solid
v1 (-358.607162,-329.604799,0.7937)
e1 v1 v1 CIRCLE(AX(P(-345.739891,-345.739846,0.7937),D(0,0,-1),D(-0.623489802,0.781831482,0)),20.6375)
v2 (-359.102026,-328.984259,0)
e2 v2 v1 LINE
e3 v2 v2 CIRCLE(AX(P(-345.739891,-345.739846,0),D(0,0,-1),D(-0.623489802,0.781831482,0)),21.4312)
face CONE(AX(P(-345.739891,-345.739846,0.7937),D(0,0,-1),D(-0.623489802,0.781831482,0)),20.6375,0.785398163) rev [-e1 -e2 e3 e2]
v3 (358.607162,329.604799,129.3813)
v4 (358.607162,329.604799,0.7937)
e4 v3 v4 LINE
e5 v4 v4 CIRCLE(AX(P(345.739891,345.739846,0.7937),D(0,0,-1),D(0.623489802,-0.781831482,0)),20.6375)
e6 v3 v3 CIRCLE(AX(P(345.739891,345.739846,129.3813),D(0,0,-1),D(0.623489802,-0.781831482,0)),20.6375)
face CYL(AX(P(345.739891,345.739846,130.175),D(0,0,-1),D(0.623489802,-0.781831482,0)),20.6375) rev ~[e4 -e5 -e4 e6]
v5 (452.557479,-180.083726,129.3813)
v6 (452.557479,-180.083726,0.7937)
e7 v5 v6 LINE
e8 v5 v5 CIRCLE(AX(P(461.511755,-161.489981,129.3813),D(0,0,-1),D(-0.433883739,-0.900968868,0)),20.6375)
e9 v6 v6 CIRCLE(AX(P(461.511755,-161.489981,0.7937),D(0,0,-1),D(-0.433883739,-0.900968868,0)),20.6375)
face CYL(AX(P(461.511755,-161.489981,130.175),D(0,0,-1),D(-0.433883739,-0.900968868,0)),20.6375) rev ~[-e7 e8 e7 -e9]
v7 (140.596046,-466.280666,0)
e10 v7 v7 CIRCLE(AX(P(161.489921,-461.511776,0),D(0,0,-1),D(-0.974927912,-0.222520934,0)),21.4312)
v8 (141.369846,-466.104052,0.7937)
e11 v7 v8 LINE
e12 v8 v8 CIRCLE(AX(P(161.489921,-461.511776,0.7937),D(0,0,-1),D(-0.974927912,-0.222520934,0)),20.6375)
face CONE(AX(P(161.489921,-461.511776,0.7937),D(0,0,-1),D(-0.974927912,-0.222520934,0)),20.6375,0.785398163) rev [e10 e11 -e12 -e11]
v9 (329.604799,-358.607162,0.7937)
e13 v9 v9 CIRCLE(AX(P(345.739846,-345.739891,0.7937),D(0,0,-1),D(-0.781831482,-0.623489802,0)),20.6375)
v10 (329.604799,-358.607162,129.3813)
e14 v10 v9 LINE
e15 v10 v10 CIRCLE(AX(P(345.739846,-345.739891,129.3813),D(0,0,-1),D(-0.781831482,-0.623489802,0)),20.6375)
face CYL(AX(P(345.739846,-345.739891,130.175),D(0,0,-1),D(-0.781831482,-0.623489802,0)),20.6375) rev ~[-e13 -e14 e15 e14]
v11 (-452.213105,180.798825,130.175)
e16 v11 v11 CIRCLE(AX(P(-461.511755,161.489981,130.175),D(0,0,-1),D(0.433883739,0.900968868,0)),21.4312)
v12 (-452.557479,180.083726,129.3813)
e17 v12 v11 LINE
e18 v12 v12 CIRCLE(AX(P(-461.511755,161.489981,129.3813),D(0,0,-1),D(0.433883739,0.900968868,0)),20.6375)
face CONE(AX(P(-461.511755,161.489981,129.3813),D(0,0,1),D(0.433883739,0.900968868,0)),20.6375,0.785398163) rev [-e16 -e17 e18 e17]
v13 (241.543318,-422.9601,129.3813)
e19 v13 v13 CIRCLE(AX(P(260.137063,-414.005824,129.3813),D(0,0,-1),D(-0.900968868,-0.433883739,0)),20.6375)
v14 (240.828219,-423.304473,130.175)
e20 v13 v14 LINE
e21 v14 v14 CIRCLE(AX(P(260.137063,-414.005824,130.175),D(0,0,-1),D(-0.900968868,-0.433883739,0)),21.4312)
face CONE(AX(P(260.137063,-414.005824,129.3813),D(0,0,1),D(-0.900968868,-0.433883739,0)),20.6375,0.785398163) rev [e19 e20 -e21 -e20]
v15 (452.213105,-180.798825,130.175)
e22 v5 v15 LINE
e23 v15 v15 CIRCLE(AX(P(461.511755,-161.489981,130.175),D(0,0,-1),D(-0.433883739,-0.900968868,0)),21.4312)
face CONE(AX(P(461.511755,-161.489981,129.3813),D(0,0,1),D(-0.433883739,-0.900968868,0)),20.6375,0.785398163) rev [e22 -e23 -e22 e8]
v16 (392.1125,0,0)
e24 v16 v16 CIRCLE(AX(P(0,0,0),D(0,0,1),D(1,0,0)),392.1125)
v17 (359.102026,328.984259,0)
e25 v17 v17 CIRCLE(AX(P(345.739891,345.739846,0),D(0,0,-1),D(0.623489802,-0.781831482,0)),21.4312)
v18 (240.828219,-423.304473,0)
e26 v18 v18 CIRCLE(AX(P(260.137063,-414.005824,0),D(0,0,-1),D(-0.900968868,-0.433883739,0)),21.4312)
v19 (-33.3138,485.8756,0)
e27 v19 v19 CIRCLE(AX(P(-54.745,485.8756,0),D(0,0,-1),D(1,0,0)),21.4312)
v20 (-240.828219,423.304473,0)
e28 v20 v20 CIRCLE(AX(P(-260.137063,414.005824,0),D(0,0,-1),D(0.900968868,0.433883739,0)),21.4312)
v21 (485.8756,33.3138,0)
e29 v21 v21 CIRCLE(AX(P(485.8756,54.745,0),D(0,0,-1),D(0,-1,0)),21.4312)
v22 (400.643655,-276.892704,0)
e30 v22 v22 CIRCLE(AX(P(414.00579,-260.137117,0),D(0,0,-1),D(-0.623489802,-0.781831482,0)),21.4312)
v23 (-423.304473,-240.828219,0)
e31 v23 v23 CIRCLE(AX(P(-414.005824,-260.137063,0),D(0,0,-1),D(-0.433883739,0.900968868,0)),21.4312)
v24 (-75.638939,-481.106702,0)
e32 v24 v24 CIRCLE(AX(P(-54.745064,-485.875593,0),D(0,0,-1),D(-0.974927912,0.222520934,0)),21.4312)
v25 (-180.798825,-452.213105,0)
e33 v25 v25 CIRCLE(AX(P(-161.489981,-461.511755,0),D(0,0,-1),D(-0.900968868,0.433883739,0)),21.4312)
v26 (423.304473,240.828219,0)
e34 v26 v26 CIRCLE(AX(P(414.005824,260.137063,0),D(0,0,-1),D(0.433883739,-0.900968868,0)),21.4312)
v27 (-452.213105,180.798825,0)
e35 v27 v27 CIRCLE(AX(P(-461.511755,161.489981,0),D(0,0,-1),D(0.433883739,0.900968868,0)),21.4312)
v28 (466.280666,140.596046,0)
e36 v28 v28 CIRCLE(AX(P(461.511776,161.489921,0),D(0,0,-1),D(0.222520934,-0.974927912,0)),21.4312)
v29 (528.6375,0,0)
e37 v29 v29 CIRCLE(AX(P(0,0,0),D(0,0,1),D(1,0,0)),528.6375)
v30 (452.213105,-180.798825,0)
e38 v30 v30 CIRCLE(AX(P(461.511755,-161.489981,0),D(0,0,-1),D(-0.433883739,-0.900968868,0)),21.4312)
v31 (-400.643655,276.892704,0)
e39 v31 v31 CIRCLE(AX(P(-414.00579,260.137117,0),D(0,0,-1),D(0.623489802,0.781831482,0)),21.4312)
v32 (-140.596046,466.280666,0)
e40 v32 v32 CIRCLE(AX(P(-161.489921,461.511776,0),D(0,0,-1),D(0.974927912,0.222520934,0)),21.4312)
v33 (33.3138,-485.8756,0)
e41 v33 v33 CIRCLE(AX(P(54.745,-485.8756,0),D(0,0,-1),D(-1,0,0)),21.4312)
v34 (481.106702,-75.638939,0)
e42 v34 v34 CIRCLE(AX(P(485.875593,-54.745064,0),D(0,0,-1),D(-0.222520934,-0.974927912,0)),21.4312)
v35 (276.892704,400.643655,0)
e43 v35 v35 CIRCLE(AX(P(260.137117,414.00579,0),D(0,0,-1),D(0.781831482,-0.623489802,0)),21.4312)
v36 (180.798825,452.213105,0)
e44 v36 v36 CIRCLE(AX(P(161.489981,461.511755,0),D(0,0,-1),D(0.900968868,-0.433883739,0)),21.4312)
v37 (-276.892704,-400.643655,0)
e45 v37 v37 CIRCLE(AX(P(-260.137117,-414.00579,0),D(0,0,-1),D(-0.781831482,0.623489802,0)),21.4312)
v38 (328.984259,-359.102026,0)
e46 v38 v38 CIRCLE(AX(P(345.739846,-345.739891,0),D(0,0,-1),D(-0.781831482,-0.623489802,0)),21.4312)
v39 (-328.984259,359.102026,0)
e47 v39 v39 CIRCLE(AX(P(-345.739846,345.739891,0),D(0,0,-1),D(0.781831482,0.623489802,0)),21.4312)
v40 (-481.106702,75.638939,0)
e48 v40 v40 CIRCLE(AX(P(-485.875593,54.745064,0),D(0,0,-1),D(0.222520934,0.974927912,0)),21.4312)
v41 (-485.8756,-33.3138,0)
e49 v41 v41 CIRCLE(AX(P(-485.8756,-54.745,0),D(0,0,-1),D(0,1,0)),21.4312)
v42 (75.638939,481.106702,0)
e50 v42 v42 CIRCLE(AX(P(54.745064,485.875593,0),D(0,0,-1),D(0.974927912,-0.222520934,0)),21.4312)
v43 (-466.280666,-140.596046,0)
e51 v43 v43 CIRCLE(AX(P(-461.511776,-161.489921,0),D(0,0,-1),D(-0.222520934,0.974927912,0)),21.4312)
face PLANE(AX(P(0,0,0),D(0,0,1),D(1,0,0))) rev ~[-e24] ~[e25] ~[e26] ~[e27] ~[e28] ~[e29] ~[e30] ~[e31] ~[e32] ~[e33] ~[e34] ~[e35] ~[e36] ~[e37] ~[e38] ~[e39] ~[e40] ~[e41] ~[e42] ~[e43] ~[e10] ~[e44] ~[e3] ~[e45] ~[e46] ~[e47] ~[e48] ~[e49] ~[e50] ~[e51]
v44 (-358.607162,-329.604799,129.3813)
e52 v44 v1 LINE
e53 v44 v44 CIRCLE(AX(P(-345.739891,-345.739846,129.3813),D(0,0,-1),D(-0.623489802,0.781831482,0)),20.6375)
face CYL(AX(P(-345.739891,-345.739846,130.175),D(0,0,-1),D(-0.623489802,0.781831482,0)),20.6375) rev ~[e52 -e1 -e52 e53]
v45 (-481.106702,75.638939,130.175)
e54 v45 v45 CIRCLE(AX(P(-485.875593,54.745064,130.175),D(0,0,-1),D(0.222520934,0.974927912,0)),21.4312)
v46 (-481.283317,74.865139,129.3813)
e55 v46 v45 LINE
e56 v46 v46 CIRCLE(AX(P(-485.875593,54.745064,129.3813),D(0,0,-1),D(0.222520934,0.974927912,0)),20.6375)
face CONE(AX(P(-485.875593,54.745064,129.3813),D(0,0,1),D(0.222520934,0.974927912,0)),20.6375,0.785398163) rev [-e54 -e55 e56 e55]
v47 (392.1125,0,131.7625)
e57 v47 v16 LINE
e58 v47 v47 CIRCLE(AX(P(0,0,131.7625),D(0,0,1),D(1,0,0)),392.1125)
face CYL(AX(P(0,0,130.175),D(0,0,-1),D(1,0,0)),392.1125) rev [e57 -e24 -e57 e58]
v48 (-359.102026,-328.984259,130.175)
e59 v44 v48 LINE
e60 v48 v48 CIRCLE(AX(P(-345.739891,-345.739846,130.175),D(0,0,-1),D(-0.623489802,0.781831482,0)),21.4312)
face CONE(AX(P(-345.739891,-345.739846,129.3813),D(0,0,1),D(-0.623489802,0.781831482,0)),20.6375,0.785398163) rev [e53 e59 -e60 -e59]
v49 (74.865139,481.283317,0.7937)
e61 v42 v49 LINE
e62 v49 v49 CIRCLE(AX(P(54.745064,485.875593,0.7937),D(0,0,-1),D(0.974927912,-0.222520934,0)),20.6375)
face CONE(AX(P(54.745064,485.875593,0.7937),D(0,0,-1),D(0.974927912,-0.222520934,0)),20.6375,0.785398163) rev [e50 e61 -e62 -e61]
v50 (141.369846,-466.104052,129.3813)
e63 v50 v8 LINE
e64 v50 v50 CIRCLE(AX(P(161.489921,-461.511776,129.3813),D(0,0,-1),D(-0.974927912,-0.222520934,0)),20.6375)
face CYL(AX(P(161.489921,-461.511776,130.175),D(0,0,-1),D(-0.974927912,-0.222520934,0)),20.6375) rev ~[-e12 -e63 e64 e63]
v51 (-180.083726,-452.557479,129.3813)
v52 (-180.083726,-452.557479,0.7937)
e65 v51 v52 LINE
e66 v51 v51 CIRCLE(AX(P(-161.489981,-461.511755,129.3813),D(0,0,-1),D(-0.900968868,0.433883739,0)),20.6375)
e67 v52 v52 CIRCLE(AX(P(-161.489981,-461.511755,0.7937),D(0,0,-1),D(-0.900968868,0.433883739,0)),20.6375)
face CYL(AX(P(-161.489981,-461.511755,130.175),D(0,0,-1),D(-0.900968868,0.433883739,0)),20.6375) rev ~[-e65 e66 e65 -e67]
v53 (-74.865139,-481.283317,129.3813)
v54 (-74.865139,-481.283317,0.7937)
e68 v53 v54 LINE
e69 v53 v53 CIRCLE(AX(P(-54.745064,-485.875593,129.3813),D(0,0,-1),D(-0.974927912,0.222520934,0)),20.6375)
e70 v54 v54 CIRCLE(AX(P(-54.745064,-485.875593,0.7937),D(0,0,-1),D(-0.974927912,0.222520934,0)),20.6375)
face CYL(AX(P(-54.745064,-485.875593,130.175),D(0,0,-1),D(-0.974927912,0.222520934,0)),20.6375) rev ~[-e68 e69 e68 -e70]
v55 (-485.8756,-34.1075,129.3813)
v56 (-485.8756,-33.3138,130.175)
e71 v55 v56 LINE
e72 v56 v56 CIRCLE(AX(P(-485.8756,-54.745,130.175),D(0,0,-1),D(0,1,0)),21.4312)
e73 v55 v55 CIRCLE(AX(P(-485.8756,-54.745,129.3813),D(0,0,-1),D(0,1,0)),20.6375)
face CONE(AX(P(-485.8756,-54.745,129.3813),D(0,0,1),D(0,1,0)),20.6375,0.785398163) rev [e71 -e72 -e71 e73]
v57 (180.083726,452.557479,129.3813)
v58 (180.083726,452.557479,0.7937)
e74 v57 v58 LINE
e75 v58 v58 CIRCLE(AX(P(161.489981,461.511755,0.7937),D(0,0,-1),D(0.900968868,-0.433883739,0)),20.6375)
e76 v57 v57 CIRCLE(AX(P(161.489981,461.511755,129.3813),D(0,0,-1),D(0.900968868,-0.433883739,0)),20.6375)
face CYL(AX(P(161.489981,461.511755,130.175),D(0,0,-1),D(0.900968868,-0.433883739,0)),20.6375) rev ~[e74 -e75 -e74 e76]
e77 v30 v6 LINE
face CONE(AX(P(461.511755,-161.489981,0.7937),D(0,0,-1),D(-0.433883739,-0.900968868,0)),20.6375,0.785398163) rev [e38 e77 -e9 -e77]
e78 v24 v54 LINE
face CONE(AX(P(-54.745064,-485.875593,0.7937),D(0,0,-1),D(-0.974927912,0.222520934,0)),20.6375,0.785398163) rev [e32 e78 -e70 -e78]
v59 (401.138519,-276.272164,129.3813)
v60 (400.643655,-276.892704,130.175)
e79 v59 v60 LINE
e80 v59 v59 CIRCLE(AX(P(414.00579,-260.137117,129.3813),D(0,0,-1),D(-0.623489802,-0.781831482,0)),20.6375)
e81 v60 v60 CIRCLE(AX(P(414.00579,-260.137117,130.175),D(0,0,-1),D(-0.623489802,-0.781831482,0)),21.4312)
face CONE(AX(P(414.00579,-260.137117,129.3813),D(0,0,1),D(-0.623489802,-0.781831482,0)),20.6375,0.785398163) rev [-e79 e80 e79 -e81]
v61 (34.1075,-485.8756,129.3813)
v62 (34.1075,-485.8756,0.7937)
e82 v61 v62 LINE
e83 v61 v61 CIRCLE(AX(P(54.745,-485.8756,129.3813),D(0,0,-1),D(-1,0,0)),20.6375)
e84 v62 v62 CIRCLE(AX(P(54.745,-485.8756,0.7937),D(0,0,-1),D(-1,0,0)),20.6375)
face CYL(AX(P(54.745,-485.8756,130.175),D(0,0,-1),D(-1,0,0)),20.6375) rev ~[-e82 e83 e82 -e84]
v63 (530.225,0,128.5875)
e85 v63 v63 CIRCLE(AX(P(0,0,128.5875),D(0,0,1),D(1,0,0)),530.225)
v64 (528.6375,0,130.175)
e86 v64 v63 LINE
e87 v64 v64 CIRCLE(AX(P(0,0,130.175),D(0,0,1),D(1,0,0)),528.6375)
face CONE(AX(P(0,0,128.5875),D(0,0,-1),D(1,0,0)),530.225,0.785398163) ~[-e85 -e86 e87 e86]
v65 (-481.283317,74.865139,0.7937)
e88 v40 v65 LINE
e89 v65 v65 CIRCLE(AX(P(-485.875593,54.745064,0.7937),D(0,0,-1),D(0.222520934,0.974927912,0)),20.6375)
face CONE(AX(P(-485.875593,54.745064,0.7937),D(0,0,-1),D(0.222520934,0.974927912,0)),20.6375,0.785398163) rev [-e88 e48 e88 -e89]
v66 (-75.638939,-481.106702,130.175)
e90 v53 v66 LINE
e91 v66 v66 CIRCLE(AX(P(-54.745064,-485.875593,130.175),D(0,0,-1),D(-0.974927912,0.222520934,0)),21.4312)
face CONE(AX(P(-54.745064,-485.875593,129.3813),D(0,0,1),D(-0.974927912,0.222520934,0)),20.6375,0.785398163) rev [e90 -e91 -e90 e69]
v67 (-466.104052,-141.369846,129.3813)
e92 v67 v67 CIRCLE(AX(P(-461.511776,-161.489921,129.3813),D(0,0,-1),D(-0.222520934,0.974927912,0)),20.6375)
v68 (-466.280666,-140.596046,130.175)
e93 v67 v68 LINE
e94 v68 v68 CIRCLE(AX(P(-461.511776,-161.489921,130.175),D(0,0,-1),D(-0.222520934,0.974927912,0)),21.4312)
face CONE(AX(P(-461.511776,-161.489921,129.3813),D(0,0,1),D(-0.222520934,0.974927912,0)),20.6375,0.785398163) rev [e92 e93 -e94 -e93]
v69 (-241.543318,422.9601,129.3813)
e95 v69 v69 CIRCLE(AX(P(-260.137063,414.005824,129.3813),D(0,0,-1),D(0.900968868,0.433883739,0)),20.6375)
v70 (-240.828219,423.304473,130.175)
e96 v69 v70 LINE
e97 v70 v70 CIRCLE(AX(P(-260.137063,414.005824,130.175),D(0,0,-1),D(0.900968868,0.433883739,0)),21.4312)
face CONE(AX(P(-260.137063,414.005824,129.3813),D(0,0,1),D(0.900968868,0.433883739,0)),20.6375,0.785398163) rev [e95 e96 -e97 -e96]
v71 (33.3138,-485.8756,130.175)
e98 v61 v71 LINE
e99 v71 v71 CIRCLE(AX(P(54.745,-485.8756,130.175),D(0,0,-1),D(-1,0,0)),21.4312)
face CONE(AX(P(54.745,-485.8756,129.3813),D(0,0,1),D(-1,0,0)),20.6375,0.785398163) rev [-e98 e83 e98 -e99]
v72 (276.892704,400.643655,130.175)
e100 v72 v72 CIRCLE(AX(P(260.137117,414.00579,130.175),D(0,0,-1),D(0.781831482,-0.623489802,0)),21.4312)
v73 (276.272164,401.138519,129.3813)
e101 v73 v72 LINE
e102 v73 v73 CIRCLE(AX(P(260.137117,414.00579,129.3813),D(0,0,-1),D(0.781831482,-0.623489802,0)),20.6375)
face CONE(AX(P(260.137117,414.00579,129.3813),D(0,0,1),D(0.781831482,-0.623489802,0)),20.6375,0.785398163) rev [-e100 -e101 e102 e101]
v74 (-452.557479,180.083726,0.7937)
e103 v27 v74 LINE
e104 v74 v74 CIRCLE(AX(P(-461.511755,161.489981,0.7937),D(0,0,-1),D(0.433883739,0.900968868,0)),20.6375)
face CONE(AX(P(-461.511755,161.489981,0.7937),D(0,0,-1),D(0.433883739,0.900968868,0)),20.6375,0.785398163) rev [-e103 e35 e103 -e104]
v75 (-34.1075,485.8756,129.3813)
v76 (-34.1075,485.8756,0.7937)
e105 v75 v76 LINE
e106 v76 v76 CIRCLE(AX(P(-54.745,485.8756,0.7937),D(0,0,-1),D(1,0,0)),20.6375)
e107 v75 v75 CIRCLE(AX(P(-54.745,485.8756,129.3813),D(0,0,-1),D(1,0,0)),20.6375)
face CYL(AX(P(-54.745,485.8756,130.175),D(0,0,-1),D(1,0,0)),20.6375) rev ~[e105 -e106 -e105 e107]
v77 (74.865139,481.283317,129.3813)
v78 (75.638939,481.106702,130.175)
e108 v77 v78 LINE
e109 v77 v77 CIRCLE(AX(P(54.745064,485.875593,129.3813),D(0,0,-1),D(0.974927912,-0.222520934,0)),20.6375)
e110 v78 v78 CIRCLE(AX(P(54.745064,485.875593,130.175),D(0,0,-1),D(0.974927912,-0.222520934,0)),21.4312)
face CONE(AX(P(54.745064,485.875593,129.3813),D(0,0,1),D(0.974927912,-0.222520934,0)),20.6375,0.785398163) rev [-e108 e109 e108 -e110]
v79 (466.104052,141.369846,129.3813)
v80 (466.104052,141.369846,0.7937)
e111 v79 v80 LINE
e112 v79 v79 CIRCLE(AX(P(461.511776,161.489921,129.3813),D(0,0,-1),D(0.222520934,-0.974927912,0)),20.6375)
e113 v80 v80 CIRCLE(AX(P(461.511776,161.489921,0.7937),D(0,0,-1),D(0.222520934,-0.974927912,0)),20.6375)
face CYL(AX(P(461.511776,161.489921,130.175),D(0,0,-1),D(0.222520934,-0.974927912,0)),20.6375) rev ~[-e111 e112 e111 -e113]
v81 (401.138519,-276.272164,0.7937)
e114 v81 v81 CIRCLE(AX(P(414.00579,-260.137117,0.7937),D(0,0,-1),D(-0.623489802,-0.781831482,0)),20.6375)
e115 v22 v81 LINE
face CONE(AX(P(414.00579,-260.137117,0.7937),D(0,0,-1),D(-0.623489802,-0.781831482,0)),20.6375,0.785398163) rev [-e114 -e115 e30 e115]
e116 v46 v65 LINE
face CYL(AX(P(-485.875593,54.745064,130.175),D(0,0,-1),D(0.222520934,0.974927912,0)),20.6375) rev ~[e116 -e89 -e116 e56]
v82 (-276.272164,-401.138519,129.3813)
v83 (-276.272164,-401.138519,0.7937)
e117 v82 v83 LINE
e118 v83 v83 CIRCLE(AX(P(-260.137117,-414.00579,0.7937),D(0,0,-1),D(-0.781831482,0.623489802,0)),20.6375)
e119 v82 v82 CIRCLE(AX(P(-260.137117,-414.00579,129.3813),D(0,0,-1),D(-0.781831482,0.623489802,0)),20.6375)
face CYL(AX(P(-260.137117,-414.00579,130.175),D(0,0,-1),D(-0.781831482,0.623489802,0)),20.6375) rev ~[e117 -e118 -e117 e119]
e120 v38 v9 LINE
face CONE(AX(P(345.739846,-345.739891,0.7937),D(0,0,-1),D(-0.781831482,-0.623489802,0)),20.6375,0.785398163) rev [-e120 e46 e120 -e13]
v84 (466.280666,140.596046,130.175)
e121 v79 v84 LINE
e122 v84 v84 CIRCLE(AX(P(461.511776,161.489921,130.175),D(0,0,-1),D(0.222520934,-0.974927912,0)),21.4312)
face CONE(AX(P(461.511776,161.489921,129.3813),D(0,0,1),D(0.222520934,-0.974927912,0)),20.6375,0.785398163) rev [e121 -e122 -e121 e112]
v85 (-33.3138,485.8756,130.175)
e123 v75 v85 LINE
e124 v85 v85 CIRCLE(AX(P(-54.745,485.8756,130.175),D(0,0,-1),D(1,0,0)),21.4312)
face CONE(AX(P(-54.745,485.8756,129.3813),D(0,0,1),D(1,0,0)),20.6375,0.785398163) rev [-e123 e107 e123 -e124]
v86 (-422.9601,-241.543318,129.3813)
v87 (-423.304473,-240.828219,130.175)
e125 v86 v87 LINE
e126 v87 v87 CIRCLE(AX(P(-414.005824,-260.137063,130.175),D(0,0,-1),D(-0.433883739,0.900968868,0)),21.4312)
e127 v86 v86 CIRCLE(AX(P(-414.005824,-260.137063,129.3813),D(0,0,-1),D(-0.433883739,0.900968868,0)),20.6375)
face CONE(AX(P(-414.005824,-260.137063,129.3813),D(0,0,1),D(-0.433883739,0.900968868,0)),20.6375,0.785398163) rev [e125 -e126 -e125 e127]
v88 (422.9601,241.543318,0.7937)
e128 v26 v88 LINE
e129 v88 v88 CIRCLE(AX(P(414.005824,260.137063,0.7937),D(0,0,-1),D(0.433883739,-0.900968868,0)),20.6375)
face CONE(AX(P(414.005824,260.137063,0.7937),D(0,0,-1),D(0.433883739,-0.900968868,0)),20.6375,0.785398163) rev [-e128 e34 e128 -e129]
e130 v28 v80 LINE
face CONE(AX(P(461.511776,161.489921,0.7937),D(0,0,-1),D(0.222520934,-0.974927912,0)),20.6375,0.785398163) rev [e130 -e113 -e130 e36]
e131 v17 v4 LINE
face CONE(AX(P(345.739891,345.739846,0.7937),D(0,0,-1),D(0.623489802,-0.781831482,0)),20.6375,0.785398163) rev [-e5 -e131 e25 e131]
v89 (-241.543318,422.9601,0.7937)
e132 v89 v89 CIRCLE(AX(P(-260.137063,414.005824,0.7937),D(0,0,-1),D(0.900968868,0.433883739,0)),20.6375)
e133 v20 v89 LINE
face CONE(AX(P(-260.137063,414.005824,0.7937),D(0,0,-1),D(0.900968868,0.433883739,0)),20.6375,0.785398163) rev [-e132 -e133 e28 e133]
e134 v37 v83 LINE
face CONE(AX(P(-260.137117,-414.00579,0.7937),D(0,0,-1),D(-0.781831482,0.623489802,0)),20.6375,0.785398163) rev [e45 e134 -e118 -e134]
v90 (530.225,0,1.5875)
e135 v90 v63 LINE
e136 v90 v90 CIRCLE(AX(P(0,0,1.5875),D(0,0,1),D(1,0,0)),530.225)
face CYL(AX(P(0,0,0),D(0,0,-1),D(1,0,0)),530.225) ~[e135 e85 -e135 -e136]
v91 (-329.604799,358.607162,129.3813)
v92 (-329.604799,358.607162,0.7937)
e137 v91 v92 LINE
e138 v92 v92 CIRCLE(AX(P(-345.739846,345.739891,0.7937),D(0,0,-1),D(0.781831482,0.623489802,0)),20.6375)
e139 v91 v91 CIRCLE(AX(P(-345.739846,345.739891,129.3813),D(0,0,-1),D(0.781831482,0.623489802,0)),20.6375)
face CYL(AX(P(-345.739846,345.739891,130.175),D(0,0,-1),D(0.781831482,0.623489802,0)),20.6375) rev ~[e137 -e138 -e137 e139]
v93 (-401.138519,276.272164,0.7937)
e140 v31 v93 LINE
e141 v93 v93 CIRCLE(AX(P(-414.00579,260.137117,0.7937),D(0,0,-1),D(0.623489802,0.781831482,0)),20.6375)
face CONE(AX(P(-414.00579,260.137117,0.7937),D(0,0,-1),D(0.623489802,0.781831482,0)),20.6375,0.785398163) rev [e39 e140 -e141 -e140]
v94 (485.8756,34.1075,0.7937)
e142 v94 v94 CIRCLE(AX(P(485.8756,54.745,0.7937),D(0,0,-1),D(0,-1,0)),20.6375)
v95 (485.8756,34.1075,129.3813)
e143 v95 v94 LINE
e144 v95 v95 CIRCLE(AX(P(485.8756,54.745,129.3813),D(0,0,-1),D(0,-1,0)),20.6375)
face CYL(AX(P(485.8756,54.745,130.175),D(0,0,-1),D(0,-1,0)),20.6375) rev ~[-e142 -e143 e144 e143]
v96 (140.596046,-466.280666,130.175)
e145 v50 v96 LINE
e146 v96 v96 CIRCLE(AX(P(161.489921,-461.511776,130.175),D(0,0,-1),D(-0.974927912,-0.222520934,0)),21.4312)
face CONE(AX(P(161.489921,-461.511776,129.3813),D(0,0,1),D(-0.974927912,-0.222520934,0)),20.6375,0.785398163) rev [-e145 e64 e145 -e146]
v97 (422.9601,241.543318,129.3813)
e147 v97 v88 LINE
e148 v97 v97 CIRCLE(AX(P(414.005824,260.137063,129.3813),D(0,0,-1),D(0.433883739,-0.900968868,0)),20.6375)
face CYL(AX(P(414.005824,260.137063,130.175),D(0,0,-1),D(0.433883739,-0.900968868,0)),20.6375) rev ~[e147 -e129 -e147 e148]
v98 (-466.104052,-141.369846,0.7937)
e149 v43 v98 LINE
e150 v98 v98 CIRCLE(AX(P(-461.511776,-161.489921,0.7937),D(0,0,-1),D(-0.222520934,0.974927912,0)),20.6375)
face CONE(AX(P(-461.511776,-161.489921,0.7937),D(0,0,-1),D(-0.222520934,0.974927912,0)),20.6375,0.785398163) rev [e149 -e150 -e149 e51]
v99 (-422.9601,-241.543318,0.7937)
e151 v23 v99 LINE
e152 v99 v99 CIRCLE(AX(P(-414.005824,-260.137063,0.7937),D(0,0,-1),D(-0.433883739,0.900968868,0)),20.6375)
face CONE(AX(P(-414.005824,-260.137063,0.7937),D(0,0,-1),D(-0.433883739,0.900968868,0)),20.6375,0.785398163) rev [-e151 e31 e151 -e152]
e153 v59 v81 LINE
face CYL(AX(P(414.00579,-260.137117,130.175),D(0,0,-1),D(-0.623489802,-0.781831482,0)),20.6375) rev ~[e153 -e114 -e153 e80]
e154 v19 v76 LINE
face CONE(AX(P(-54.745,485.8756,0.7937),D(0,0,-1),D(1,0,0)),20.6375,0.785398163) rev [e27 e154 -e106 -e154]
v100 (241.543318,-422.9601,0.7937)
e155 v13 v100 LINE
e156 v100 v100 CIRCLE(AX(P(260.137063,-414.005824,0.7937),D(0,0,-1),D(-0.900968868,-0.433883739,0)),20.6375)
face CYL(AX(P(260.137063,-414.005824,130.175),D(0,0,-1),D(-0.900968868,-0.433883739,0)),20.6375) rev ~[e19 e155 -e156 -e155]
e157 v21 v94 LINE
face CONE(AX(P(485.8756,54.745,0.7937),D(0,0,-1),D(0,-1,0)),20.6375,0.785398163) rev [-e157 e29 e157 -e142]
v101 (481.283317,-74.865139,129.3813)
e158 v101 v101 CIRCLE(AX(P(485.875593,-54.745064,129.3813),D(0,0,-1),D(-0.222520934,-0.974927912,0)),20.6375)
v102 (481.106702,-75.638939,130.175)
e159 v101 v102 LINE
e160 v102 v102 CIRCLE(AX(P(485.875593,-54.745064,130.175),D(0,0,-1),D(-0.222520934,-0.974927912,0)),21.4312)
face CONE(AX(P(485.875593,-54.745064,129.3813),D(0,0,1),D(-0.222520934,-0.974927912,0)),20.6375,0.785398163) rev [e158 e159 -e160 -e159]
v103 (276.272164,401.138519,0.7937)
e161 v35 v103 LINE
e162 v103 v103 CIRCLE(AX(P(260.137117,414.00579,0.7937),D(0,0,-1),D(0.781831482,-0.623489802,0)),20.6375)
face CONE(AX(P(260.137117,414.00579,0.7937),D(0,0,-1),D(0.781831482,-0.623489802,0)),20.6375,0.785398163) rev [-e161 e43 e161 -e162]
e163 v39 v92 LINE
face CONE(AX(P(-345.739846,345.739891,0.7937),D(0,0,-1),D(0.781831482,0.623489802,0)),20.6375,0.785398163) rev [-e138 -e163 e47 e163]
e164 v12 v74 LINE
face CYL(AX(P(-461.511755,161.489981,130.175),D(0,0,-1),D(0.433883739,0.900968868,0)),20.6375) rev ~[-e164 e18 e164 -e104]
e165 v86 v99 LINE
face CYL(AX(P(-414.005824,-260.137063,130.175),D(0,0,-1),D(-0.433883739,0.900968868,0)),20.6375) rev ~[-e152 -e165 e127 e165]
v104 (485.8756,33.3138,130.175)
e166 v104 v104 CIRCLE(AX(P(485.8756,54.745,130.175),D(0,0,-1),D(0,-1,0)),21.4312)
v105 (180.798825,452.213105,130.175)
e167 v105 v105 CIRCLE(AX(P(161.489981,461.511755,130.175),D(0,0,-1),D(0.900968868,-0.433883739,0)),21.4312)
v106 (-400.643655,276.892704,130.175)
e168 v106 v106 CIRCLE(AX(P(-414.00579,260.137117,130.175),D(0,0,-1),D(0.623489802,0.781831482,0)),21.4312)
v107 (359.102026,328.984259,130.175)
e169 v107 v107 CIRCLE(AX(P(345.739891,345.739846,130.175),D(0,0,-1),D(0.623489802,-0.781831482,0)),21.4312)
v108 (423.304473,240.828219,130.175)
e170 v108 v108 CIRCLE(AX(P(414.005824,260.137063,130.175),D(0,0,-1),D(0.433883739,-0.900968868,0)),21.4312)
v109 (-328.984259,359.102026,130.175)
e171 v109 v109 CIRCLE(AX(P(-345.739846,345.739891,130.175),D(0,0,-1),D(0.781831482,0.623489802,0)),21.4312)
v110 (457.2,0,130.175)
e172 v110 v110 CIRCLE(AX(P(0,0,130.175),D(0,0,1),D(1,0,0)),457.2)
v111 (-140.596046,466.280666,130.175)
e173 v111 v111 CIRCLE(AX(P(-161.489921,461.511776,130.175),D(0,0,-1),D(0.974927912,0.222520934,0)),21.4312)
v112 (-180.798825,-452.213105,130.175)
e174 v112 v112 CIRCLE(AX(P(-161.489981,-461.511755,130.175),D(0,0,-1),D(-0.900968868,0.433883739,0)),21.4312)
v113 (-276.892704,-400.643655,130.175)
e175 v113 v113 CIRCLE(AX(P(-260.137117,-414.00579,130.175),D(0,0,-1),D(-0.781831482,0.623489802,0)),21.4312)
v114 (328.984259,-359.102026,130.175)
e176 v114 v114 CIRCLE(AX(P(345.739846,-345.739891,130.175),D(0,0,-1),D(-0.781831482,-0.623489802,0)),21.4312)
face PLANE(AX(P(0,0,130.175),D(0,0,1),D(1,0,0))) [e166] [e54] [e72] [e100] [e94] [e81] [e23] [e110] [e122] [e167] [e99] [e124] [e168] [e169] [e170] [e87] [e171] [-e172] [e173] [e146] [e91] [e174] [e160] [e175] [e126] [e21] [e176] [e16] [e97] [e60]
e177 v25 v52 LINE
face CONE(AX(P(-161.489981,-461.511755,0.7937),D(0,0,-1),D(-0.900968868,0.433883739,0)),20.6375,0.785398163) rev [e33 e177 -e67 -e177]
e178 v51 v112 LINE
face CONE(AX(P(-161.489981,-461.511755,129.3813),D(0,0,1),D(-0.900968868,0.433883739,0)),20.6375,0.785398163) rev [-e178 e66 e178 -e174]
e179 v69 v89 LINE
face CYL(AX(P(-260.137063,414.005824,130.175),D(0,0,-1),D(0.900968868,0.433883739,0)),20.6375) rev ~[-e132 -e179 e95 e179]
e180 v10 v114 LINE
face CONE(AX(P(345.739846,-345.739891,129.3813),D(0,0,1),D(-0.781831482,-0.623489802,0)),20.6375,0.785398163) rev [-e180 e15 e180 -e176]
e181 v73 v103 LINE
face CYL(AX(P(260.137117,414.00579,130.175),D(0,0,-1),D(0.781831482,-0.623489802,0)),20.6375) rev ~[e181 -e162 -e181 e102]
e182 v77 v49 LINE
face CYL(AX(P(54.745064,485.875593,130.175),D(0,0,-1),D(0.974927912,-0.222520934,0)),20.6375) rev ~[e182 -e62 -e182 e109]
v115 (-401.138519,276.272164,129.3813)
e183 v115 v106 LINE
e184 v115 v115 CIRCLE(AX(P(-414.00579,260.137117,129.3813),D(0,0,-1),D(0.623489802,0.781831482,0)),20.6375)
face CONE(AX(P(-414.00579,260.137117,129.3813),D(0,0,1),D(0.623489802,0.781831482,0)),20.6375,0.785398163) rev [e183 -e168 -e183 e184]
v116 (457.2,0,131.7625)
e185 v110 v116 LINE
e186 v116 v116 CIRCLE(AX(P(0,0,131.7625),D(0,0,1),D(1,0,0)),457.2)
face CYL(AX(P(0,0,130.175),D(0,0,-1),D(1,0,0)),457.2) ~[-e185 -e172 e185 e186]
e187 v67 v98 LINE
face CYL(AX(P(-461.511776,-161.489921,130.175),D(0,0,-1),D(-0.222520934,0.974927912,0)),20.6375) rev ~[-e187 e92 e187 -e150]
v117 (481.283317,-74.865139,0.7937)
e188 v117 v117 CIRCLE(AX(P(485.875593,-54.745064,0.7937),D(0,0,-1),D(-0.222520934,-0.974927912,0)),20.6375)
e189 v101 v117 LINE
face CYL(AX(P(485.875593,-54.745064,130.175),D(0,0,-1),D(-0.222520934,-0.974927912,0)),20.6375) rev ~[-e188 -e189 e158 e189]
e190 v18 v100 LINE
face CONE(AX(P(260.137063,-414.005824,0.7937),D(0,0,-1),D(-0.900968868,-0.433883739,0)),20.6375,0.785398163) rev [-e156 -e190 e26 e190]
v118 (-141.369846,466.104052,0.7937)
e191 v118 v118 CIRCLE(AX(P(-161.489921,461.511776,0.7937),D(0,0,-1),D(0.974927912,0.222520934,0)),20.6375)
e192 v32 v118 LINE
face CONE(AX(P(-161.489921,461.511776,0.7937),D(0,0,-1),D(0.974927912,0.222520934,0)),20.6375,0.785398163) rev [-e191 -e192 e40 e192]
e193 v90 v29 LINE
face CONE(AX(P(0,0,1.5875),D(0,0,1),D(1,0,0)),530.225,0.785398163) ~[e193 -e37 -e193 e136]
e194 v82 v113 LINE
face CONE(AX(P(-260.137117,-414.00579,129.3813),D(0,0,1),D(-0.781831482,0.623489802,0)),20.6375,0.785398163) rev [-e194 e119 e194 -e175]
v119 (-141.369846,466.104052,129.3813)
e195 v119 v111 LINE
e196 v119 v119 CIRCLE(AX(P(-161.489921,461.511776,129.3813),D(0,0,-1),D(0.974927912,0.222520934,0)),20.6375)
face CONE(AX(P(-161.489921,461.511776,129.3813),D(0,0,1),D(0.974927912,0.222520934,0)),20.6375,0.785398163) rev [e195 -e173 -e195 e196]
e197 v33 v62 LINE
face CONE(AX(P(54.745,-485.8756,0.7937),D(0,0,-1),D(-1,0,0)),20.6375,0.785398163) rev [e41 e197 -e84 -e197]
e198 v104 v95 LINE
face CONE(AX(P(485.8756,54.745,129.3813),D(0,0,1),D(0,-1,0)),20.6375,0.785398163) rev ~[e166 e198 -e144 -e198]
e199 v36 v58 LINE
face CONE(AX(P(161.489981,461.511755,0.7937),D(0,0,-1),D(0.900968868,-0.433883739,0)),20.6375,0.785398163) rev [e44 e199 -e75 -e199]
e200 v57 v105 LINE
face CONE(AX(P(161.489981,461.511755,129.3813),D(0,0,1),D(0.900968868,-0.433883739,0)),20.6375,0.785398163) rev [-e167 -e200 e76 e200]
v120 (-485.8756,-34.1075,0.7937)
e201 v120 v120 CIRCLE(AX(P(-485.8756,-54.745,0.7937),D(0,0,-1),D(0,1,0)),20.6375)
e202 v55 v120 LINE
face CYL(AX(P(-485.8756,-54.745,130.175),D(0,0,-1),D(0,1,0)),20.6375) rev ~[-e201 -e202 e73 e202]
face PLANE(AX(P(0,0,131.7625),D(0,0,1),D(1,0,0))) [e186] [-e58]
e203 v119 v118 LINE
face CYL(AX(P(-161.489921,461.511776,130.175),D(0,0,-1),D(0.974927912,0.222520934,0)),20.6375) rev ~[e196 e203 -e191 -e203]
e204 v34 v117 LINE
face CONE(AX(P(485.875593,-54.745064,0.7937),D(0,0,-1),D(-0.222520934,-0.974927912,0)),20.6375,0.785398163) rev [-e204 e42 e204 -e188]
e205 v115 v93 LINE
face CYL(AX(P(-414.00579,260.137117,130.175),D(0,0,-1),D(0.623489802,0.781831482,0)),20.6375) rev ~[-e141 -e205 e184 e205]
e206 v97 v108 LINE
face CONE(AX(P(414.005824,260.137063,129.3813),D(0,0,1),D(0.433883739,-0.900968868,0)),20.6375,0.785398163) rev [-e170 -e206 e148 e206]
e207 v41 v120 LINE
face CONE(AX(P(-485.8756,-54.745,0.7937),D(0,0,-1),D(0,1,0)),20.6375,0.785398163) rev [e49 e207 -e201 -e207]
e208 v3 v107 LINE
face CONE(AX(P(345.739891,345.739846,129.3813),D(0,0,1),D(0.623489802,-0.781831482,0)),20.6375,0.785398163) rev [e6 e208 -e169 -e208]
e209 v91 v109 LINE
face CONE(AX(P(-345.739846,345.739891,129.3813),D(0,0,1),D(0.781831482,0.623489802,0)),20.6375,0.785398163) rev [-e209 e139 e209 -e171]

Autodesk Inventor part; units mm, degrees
ref_plane "YZ Plane" through (0, 0, 0) normal (1, 0, 0) x (0, 1, 0)
ref_plane "XZ Plane" through (0, 0, 0) normal (0, 1, 0) x (-1, 0, 0)
ref_plane "XY Plane" through (0, 0, 0) normal (0, 0, 1) x (1, 0, 0)
sketch "Sketch1" plane through (0, 0, 0) normal (0, 0, 1) x (1, 0, 0)
  circle A0 centre (0, 0) radius 530.225
  circle A1 centre (0, 0) radius 392.1125
  dimension "d0" = 1060.45
  dimension "d1" = 784.225
extrude "Extrusion1" add sketch "Sketch1" along normal blind 130.175
sketch "Sketch2" plane through (0, 0, 130.175) normal (0, 0, 1) x (1, 0, 0)
  line L0 (-485.8756, -54.745) -> (485.8756, 54.745)
  line L1 (-485.8756, -54.745) -> (492.0244, -54.745) construction
  point P0 (0, 0)
  point P1 (0, 0)
  dimension "d4" = 977.9
  dimension "d5" = 6.429
hole "Hole1" at (485.8756, 54.745, 130.175) direction (0, 0, -1) diameter 41.275 end through all
chamfer "Chamfer1" distance 0.7937 angle 45 2 edges at (485.8756, 75.3825, 130.175) (485.8756, 75.3825, 0)
pattern_circular "Circular Pattern1" count 28 over 360 about axis through (0, 0, -10) along (0, 0, 1) of "Hole1", "Chamfer1"
sketch "Sketch3" plane through (0, 0, 130.175) normal (0, 0, 1) x (1, 0, 0)
  circle A0 centre (0, 0) radius 392.1125 projected
  circle A1 centre (0, 0) radius 457.2
  dimension "d25" = 914.4
extrude "Extrusion2" add sketch "Sketch3" along normal blind 1.5875
chamfer "Chamfer2" distance 1.5875 angle 45 2 edges at (-530.225, 0, 130.175) (-530.225, 0, 0)
properties part number "A1-19027-300-02 32in CL150 RF flange" material "Steel, Mild"
